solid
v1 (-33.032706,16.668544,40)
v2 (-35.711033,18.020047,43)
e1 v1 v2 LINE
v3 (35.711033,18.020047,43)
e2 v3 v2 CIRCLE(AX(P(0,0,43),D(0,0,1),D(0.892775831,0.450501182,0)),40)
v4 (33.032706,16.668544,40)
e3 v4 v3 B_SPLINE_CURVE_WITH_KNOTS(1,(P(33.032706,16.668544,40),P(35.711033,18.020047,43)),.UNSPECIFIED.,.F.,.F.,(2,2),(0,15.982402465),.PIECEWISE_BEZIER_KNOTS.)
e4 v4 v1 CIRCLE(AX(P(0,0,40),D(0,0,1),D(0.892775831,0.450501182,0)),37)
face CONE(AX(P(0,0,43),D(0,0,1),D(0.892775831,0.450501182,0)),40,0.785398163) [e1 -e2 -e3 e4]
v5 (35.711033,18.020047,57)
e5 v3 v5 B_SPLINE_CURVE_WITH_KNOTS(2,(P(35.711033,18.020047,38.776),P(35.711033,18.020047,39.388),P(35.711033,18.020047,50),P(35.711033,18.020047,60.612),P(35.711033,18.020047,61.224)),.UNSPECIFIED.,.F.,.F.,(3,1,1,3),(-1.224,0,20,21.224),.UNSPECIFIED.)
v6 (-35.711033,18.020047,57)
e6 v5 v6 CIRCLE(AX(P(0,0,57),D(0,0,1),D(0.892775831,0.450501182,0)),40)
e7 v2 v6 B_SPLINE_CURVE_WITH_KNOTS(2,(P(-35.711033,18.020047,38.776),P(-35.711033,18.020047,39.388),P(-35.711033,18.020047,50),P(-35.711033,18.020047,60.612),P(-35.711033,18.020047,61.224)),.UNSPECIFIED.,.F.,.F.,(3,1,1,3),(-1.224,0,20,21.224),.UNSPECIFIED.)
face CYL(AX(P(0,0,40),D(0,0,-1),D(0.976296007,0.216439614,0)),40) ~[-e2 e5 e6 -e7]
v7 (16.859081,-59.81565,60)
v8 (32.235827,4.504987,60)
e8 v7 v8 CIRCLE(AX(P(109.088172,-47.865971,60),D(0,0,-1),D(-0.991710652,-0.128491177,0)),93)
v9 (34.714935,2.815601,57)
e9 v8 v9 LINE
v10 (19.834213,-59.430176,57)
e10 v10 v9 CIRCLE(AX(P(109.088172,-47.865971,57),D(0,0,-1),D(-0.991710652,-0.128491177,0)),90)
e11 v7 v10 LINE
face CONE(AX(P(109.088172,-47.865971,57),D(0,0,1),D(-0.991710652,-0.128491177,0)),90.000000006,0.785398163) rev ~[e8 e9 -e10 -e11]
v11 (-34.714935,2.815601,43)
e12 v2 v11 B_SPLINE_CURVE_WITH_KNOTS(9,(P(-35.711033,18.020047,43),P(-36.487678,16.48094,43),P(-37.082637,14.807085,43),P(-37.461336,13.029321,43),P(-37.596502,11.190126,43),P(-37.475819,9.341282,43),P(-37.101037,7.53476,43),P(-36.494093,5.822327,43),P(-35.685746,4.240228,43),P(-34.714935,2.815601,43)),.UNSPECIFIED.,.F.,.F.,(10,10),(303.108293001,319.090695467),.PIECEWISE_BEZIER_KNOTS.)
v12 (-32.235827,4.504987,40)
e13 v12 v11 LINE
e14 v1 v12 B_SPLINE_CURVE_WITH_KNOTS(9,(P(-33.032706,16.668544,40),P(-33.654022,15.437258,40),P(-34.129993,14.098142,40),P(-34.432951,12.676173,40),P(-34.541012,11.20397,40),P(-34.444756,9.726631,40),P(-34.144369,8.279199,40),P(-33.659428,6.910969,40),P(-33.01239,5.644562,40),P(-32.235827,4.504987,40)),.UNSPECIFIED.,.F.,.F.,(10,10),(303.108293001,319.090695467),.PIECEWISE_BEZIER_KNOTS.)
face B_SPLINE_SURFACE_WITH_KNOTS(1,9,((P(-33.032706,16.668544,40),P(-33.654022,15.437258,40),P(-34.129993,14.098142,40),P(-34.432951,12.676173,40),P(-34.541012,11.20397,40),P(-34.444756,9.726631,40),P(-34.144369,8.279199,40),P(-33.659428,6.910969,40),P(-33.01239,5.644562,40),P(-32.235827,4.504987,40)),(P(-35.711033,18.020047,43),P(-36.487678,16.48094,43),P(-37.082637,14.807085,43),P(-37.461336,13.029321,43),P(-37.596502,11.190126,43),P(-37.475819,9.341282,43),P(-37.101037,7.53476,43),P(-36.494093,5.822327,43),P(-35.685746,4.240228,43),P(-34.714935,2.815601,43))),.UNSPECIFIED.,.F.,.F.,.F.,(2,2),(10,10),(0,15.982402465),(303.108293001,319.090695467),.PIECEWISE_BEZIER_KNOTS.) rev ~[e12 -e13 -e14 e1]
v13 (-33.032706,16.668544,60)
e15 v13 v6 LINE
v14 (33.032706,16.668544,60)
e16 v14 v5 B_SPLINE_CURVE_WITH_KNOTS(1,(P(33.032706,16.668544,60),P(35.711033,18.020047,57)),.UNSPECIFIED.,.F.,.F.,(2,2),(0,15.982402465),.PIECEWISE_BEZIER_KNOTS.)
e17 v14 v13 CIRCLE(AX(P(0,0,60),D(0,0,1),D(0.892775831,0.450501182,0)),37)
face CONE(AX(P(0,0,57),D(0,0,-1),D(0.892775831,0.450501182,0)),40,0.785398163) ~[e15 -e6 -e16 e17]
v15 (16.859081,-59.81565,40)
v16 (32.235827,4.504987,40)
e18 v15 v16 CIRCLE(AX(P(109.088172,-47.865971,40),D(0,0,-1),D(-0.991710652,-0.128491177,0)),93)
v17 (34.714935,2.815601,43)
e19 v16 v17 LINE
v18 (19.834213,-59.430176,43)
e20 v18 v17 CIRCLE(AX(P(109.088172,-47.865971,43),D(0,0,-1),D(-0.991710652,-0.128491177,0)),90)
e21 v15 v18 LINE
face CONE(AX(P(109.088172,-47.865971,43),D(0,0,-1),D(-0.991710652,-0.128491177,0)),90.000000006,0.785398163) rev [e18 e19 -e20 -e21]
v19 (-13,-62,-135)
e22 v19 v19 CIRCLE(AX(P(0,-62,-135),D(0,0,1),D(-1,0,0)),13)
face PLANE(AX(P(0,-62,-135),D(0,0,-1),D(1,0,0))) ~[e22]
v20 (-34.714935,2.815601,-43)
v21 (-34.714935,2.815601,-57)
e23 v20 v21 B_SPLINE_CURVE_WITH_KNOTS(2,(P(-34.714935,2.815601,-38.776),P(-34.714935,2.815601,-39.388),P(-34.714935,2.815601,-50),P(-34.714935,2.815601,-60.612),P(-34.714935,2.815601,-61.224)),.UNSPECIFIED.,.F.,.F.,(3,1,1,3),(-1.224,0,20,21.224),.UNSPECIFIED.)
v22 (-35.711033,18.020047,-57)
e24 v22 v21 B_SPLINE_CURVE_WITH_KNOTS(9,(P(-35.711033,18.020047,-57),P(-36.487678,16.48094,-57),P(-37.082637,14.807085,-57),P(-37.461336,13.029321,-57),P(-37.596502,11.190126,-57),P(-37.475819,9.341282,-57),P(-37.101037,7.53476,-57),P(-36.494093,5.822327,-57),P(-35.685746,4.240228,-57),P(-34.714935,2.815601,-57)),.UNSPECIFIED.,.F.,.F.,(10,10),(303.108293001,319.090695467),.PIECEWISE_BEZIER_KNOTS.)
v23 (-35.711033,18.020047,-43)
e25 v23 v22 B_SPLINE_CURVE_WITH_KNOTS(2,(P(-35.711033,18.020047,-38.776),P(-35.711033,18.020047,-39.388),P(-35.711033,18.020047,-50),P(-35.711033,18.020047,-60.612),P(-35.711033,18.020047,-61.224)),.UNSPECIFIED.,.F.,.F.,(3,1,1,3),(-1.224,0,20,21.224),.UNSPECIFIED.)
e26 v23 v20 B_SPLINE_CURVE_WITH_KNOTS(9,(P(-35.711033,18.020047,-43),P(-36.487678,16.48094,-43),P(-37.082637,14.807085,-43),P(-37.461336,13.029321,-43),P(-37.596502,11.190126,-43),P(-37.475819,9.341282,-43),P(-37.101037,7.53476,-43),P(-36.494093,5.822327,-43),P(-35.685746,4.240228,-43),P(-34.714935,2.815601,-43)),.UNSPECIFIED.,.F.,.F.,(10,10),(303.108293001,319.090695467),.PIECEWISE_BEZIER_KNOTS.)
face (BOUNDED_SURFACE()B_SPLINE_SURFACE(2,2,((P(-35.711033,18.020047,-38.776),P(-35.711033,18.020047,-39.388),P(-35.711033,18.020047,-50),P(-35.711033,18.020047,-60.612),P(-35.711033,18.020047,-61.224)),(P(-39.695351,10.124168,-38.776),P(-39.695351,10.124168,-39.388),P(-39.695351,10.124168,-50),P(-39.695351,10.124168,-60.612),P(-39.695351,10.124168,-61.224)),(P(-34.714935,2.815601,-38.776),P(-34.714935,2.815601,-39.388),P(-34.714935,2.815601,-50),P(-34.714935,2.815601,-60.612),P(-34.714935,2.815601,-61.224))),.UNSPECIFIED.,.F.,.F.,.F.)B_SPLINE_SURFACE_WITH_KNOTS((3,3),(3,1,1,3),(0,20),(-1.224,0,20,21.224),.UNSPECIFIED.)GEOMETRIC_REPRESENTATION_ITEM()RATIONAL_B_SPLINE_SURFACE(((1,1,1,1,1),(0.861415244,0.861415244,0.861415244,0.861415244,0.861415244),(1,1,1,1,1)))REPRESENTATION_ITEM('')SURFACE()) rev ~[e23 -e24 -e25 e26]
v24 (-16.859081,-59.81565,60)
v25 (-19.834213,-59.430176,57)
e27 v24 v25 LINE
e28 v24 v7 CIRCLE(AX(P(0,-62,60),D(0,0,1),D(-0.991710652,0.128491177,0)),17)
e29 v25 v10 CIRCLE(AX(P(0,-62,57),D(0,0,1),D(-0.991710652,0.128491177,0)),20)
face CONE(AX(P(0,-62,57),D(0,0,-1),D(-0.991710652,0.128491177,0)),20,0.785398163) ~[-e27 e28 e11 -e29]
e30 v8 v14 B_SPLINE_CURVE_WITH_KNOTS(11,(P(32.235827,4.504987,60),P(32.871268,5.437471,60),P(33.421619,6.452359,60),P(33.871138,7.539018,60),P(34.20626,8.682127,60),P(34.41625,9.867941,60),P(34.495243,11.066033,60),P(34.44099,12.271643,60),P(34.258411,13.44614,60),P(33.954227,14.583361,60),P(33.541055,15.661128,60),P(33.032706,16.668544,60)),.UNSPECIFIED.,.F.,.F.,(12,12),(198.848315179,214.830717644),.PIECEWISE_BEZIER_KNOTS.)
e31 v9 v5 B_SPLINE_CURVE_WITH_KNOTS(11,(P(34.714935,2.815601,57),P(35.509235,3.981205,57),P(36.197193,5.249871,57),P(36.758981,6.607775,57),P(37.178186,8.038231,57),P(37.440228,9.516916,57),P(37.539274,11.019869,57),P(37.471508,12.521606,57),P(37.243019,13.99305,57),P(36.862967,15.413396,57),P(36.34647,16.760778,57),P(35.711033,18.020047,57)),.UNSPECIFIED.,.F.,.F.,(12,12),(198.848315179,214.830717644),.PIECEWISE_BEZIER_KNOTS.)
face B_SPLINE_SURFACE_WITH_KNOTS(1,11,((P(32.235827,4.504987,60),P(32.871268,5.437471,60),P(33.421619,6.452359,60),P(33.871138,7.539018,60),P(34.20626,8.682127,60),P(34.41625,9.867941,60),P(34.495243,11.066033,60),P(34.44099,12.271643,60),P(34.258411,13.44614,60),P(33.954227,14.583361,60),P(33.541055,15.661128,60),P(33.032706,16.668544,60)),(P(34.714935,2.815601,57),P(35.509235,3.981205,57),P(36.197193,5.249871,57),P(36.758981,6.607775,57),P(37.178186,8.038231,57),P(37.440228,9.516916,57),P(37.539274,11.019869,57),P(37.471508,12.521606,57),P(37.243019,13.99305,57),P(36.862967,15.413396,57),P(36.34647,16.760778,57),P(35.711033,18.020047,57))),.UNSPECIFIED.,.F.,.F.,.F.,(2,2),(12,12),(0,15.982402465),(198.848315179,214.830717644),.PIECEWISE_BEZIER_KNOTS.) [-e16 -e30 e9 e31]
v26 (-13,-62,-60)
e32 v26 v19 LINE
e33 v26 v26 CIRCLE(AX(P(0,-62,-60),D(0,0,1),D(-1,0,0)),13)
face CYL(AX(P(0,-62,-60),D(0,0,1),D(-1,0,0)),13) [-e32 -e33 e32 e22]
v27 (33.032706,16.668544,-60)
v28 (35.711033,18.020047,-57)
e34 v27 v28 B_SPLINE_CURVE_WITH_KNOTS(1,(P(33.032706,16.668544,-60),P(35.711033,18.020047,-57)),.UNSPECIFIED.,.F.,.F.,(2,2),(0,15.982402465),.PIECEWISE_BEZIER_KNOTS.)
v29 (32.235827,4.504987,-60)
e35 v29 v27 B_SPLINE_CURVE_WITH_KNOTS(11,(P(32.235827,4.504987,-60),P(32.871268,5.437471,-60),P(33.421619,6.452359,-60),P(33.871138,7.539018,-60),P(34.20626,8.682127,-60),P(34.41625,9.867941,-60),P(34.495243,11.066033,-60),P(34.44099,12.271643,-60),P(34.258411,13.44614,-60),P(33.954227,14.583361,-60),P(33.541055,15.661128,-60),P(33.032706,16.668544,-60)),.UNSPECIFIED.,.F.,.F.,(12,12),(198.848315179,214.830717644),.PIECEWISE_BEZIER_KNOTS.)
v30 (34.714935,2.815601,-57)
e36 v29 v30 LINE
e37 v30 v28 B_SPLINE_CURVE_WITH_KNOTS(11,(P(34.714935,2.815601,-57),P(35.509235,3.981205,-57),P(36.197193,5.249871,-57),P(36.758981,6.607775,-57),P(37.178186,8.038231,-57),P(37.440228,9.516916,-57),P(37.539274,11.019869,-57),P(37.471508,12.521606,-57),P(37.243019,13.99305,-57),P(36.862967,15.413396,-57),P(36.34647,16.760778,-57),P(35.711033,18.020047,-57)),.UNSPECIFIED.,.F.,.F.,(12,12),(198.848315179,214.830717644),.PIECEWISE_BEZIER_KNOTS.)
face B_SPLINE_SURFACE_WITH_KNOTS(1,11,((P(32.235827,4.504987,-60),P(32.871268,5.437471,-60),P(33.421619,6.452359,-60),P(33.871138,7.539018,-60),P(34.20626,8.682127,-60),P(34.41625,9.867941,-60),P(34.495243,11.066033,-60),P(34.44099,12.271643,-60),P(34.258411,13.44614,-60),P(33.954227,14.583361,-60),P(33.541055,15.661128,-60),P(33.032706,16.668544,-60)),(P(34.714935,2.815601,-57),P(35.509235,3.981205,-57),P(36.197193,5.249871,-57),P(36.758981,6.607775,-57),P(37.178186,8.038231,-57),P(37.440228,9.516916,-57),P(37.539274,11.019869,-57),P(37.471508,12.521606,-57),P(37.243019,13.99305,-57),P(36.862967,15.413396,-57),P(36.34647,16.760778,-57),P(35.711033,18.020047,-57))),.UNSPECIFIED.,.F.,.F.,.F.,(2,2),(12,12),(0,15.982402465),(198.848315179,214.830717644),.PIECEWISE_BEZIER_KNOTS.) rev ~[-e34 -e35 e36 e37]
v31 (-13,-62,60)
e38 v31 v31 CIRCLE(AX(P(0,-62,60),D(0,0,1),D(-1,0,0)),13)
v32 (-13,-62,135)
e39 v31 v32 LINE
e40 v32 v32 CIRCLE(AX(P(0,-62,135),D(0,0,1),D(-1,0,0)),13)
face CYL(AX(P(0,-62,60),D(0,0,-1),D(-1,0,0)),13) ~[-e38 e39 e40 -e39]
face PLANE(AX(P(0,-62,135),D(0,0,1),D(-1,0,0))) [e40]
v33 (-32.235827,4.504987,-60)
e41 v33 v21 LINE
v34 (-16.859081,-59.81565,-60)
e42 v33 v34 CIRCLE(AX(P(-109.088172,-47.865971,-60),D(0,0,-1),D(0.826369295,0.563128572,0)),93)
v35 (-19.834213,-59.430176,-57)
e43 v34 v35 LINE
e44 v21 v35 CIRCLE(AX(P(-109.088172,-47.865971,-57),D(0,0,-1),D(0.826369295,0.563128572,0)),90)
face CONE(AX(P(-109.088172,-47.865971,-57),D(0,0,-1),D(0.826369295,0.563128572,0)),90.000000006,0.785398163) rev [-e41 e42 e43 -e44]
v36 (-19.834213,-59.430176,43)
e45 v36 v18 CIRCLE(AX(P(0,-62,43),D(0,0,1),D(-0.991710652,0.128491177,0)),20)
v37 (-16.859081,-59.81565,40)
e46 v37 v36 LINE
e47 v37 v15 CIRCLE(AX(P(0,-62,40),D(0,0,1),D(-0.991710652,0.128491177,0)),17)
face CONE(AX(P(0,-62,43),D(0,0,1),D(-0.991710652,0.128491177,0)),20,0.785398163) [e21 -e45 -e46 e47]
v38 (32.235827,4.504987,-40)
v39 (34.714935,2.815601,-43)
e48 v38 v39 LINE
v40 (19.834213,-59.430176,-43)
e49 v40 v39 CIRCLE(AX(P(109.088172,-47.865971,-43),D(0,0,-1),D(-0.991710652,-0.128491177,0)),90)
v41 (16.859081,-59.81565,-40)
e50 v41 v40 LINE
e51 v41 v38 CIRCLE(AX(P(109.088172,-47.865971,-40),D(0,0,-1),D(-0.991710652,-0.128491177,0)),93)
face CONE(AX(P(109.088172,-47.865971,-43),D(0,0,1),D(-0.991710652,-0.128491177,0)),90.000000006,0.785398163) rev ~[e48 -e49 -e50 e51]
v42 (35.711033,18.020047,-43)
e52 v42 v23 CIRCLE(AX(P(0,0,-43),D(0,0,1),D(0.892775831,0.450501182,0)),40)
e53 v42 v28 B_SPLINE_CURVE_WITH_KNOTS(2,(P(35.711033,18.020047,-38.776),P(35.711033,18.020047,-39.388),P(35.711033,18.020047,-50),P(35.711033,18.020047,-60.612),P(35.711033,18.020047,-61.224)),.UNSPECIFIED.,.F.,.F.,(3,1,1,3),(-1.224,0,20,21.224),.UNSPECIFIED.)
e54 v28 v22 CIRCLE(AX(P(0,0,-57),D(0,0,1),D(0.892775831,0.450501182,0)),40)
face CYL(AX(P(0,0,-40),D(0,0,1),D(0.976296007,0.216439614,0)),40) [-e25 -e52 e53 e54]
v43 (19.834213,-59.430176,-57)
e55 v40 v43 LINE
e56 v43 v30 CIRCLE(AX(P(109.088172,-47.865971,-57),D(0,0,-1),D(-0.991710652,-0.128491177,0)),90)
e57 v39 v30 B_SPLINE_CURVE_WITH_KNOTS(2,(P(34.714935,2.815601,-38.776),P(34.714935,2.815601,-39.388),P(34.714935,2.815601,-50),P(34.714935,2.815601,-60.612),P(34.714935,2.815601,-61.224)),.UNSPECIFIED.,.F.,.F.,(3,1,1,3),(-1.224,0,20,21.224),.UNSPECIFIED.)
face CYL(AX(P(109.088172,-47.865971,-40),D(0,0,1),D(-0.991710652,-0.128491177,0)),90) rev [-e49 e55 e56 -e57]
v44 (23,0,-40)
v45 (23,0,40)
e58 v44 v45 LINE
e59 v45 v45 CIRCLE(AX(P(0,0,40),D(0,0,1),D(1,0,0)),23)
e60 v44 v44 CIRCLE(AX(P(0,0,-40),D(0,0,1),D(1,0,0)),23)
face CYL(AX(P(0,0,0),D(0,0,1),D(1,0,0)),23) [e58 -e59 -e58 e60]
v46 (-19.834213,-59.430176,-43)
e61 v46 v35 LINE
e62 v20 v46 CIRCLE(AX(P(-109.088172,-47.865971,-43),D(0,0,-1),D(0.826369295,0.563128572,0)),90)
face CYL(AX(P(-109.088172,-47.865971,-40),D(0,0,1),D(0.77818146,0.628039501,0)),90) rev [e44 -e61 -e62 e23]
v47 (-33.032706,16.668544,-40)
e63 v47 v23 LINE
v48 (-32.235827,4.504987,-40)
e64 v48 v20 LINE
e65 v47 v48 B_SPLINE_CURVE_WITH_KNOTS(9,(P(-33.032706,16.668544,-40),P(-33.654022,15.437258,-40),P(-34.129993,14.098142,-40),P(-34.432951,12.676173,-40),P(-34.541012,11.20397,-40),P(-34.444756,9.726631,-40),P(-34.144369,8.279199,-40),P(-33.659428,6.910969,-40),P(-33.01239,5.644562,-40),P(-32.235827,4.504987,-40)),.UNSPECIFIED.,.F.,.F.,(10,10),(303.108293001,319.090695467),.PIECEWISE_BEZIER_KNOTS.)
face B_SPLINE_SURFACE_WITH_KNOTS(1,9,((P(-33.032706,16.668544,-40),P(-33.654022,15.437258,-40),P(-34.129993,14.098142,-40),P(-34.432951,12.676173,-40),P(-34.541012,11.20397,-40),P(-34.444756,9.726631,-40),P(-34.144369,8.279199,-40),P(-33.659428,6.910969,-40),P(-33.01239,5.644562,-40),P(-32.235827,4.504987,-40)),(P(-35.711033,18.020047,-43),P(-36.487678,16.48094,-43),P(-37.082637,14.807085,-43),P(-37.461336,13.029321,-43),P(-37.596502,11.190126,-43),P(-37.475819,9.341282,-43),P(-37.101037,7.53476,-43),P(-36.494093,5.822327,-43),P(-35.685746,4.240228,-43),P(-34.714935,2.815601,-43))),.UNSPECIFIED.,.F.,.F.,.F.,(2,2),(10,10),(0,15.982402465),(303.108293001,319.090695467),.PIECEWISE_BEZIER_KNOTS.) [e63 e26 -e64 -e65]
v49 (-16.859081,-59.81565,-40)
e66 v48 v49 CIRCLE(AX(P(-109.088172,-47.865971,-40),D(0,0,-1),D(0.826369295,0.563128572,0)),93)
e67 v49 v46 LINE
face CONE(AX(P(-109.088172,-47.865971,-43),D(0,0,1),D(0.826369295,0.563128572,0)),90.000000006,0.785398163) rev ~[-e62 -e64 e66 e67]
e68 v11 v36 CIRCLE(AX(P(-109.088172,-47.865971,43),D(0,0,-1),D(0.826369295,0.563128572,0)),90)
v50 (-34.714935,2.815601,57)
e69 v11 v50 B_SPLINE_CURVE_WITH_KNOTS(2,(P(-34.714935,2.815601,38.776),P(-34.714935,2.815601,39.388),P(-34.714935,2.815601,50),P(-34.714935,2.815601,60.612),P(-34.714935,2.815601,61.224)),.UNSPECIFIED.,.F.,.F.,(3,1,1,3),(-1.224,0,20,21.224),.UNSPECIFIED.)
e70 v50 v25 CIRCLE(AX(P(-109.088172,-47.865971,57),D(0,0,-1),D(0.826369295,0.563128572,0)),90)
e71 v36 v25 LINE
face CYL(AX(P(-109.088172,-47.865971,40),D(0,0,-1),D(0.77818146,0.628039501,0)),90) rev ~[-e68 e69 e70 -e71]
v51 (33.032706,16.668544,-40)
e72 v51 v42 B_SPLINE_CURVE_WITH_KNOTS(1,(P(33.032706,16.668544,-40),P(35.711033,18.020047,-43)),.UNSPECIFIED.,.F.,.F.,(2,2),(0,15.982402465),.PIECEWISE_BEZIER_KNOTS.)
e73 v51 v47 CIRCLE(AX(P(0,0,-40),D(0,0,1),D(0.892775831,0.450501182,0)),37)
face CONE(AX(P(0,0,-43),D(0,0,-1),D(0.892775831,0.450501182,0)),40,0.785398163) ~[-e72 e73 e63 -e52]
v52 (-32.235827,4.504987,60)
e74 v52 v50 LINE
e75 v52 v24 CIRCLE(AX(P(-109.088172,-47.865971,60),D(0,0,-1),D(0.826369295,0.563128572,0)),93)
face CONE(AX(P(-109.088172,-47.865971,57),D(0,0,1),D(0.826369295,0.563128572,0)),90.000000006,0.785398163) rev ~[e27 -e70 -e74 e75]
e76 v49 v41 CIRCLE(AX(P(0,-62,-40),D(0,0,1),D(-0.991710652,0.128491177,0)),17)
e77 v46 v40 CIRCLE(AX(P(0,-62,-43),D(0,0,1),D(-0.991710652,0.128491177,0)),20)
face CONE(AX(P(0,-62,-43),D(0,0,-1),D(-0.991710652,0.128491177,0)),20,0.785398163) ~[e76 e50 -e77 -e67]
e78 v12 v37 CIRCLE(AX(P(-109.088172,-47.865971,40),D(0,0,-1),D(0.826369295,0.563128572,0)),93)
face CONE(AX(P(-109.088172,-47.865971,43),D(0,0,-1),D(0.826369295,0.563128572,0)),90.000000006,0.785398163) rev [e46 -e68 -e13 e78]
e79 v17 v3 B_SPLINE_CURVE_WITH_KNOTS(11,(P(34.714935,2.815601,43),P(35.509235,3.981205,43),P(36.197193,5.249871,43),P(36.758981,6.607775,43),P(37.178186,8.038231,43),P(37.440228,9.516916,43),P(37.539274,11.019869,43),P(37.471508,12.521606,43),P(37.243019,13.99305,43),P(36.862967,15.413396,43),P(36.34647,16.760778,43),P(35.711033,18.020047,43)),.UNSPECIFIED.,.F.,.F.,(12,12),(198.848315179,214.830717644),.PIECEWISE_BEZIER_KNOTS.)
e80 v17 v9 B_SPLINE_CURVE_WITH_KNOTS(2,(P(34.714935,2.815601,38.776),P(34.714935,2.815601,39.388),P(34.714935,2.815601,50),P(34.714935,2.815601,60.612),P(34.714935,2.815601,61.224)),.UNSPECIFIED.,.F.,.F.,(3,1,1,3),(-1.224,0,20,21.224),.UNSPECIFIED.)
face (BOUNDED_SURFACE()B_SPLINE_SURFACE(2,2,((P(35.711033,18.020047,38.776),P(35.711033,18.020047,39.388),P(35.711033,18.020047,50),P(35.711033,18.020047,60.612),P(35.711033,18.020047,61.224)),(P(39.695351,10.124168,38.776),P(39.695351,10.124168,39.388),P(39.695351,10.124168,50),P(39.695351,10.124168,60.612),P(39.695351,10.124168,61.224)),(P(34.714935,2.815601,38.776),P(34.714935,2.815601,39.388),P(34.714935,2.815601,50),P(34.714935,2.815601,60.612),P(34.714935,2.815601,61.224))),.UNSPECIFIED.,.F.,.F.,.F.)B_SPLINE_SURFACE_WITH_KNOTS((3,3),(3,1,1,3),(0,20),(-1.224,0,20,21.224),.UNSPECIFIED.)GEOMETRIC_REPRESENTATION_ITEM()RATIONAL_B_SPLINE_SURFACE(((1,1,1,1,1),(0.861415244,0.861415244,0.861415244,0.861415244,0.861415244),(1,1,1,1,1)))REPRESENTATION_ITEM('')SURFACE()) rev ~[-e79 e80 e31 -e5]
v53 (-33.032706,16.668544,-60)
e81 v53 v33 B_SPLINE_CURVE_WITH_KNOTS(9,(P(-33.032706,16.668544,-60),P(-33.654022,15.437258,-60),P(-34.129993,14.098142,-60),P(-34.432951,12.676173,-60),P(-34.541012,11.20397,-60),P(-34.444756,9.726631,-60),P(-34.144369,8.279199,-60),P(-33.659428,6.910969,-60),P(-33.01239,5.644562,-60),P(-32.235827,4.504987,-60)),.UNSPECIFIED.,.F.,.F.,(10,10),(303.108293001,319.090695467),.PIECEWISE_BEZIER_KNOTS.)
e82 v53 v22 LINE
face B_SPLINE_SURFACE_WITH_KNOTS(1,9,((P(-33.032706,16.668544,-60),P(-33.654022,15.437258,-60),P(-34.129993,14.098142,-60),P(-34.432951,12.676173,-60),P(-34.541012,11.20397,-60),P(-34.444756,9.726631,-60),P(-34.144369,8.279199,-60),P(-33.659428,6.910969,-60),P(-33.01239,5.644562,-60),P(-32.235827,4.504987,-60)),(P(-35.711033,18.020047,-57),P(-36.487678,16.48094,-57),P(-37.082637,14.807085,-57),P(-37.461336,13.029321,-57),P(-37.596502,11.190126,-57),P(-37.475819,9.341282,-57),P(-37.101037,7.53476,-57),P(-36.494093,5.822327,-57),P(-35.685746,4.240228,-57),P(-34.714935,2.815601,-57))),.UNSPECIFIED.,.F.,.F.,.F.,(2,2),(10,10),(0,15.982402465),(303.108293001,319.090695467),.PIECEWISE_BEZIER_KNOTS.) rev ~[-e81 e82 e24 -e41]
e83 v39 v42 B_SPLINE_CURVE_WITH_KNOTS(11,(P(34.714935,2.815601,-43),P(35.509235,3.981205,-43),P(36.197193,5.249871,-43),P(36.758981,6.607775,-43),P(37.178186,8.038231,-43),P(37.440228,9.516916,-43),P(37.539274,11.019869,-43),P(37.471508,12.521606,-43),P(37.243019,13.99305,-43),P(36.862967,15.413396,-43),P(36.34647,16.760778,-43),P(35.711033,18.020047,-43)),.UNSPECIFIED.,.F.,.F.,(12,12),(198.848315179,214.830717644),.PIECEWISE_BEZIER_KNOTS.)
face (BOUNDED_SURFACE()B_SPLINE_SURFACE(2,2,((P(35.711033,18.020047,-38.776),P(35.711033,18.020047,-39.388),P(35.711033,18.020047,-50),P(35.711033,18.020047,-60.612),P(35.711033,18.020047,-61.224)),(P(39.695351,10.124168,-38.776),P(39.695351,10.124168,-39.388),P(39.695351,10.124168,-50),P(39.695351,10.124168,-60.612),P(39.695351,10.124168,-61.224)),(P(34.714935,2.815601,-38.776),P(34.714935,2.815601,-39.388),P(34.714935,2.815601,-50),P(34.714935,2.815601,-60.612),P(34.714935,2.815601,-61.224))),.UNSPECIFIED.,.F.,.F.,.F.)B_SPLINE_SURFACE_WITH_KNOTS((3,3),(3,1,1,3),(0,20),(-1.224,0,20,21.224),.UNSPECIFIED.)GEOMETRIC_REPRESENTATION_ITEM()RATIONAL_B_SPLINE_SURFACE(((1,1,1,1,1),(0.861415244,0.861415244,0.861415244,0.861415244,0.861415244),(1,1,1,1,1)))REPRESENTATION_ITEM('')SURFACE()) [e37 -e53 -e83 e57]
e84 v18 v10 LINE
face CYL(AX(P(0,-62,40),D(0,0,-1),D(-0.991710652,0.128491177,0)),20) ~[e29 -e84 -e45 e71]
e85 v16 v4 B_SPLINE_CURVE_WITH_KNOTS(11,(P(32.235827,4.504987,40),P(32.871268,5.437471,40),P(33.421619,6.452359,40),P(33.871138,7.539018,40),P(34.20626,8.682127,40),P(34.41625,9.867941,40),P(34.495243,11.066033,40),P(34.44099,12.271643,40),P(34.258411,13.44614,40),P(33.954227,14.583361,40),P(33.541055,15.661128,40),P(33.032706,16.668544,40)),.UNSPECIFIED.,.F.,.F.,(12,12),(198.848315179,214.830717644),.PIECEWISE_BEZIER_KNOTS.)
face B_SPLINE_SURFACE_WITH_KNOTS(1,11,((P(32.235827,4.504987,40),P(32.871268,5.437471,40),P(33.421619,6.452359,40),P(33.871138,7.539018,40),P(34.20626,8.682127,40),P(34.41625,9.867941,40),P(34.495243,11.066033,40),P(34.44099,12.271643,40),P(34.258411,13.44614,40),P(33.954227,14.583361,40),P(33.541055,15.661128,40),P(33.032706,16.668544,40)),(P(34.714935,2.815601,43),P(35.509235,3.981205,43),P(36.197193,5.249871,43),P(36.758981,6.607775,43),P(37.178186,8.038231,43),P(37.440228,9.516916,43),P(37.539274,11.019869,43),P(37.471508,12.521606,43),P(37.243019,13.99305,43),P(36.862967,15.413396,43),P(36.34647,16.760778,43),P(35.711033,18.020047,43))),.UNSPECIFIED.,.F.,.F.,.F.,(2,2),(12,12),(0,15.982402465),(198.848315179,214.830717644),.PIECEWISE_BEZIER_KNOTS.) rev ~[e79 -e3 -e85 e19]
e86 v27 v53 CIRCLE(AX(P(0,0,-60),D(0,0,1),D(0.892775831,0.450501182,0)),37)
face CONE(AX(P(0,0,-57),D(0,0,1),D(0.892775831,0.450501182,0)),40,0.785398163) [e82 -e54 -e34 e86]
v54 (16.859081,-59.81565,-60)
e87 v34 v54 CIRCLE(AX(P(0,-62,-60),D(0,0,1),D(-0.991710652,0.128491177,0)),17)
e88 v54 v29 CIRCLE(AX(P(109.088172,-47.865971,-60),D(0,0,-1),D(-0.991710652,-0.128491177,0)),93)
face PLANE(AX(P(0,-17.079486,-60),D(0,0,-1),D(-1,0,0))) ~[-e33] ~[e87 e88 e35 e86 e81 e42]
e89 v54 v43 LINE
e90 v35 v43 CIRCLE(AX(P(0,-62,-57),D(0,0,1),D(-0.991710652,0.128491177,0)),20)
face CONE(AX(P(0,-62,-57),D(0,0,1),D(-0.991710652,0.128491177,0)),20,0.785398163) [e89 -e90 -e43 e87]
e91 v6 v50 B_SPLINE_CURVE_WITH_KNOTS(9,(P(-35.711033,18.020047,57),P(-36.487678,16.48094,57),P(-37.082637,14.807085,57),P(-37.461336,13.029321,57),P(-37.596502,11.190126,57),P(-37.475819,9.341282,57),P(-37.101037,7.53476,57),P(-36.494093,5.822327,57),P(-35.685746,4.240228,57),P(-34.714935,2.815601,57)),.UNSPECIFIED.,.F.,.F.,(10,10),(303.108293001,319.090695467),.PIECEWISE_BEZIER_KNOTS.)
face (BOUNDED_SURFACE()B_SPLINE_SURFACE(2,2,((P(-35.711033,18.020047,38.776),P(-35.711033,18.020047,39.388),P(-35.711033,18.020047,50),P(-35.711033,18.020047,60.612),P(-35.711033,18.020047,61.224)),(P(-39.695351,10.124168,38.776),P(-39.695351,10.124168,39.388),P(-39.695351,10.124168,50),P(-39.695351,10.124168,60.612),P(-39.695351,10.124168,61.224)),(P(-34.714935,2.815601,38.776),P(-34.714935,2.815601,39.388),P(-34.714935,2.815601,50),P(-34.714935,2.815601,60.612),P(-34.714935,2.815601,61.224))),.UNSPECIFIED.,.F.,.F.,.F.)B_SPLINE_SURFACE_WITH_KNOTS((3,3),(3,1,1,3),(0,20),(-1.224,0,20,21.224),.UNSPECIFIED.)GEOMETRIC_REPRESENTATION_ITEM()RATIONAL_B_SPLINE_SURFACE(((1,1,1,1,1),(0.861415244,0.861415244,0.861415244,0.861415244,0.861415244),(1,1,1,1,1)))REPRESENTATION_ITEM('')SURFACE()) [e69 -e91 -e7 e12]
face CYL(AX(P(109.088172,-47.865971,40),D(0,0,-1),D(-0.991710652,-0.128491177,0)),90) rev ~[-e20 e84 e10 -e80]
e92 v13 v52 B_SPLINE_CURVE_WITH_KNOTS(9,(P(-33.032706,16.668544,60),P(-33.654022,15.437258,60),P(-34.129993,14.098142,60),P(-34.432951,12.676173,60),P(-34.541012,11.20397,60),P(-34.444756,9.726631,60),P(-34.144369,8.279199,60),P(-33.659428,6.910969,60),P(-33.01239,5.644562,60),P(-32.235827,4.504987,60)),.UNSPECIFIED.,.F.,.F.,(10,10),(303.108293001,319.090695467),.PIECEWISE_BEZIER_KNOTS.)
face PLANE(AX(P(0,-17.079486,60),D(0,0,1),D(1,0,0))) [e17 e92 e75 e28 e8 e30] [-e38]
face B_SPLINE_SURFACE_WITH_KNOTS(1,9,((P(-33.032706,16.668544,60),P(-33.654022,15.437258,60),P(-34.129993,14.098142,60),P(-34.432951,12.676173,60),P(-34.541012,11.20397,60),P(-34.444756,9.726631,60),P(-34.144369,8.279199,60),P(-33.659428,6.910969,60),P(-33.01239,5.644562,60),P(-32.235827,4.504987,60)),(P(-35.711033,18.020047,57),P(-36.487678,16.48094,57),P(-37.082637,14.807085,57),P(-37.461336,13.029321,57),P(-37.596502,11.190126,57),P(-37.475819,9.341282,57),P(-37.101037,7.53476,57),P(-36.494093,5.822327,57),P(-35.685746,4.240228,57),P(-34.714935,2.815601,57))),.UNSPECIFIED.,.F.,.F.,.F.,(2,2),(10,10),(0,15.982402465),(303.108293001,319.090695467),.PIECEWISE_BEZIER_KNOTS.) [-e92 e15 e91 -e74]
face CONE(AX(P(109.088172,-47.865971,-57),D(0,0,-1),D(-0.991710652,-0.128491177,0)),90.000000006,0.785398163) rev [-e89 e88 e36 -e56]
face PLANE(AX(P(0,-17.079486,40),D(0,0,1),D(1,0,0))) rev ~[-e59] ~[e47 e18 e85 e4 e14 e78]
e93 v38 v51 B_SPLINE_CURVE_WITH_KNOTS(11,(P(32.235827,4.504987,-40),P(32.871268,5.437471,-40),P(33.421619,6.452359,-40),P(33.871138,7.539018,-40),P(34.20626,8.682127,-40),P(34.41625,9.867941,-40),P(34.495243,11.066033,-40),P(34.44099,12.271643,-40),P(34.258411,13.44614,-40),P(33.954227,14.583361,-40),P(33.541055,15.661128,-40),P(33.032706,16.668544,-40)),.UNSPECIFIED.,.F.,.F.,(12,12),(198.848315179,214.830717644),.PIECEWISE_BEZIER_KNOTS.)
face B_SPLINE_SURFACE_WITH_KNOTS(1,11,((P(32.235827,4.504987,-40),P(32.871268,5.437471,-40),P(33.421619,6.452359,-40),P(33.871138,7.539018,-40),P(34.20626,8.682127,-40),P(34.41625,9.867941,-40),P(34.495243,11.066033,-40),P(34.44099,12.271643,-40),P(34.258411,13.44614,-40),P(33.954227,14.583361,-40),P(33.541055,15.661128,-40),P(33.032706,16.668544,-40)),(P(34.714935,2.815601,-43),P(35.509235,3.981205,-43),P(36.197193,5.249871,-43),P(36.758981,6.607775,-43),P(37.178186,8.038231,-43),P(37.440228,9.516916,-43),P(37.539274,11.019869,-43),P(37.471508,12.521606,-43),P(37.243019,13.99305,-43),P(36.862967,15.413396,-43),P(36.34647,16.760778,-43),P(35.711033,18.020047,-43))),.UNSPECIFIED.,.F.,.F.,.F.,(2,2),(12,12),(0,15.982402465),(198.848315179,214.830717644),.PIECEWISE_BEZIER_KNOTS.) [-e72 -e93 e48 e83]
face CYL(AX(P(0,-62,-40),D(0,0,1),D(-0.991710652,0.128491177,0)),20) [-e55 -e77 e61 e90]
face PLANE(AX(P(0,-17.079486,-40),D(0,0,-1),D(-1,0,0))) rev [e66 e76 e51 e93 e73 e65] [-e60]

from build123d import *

# Parameters (mm, degrees)
SKETCH1_R                = 23
BOSS_EXTRUDE1_DEPTH      = 40
BOSS_EXTRUDE2_DEPTH      = 20
SKETCH3_R                = 13
BOSS_EXTRUDE3_DEPTH      = 75
FILLET1_R                = 15
CHAMFER2_SIZE            = 3
FILLET1_OF_MIRROR1_R     = 15
CHAMFER2_OF_MIRROR1_SIZE = 3


with BuildPart() as part:
    # Sketch1 → Boss-Extrude1 (new body, symmetric)
    with BuildSketch(Plane.XY):
        Circle(SKETCH1_R)
    extrude(amount=BOSS_EXTRUDE1_DEPTH, both=True)

    # Sketch2 → Boss-Extrude2 (add)
    with BuildSketch(Plane.XY.offset(40)):
        with BuildLine():
            ThreePointArc((39.051840285, 8.657584558), (0, 40), (-39.051840285, 8.657584558))
            ThreePointArc((-39.051840285, 8.657584558), (-22.47215166, -23.418781152), (-19.834213041, -59.430176458))
            ThreePointArc((-19.834213041, -59.430176458), (0, -82), (19.834213041, -59.430176458))
            ThreePointArc((19.834213041, -59.430176458), (22.47215166, -23.418781152), (39.051840285, 8.657584558))
        make_face()
    boss_extrude2 = extrude(amount=BOSS_EXTRUDE2_DEPTH)

    # Sketch3 → Boss-Extrude3 (add)
    with BuildSketch(Plane.XY.offset(60)):
        with Locations(Location((0, -62, 0), (0, 0, 180))):  # turned: the seam where the file's is
            Circle(SKETCH3_R)
    boss_extrude3 = extrude(amount=BOSS_EXTRUDE3_DEPTH)

    # Fillet1
    fillet1_edges = [part.edges().sort_by_distance(p)[0] for p in [
        (-39.051840285, 8.657584558, 50),
        (39.051840285, 8.657584558, 50),
    ]]
    fillet(fillet1_edges, radius=FILLET1_R)

    # Chamfer2
    chamfer2_edges = [part.edges().sort_by_distance(p)[0] for p in [
        (-21.554755506, -26.939885243, 40),
        (-21.554755506, -26.939885243, 60),
        (0, 40, 40),
        (37.287308792, 10.281927657, 40),
        (-37.287308792, 10.281927657, 40),
        (0, 40, 60),
        (37.287308792, 10.281927657, 60),
        (-37.287308792, 10.281927657, 60),
        (0, -82, 40),
        (21.554755506, -26.939885243, 40),
        (0, -82, 60),
        (21.554755506, -26.939885243, 60),
    ]]
    chamfer(chamfer2_edges, length=CHAMFER2_SIZE)

    # Mirror1: Boss-Extrude2, Boss-Extrude3 across plane
    add(boss_extrude2.mirror(Plane.XY))
    add(boss_extrude3.mirror(Plane.XY))

    # Fillet1 of Mirror1
    fillet1_of_mirror1_edges = [part.edges().sort_by_distance(p)[0] for p in [
        (-39.051840285, 8.657584558, -50),
        (39.051840285, 8.657584558, -50),
    ]]
    fillet(fillet1_of_mirror1_edges, radius=FILLET1_OF_MIRROR1_R)

    # Chamfer2 of Mirror1
    chamfer2_of_mirror1_edges = [part.edges().sort_by_distance(p)[0] for p in [
        (-21.554755506, -26.939885243, -40),
        (-21.554755506, -26.939885243, -60),
        (0, 40, -40),
        (37.287308792, 10.281927657, -40),
        (-37.287308792, 10.281927657, -40),
        (0, 40, -60),
        (37.287308792, 10.281927657, -60),
        (-37.287308792, 10.281927657, -60),
        (0, -82, -40),
        (21.554755506, -26.939885243, -40),
        (0, -82, -60),
        (21.554755506, -26.939885243, -60),
    ]]
    chamfer(chamfer2_of_mirror1_edges, length=CHAMFER2_OF_MIRROR1_SIZE)


solid = part.part
